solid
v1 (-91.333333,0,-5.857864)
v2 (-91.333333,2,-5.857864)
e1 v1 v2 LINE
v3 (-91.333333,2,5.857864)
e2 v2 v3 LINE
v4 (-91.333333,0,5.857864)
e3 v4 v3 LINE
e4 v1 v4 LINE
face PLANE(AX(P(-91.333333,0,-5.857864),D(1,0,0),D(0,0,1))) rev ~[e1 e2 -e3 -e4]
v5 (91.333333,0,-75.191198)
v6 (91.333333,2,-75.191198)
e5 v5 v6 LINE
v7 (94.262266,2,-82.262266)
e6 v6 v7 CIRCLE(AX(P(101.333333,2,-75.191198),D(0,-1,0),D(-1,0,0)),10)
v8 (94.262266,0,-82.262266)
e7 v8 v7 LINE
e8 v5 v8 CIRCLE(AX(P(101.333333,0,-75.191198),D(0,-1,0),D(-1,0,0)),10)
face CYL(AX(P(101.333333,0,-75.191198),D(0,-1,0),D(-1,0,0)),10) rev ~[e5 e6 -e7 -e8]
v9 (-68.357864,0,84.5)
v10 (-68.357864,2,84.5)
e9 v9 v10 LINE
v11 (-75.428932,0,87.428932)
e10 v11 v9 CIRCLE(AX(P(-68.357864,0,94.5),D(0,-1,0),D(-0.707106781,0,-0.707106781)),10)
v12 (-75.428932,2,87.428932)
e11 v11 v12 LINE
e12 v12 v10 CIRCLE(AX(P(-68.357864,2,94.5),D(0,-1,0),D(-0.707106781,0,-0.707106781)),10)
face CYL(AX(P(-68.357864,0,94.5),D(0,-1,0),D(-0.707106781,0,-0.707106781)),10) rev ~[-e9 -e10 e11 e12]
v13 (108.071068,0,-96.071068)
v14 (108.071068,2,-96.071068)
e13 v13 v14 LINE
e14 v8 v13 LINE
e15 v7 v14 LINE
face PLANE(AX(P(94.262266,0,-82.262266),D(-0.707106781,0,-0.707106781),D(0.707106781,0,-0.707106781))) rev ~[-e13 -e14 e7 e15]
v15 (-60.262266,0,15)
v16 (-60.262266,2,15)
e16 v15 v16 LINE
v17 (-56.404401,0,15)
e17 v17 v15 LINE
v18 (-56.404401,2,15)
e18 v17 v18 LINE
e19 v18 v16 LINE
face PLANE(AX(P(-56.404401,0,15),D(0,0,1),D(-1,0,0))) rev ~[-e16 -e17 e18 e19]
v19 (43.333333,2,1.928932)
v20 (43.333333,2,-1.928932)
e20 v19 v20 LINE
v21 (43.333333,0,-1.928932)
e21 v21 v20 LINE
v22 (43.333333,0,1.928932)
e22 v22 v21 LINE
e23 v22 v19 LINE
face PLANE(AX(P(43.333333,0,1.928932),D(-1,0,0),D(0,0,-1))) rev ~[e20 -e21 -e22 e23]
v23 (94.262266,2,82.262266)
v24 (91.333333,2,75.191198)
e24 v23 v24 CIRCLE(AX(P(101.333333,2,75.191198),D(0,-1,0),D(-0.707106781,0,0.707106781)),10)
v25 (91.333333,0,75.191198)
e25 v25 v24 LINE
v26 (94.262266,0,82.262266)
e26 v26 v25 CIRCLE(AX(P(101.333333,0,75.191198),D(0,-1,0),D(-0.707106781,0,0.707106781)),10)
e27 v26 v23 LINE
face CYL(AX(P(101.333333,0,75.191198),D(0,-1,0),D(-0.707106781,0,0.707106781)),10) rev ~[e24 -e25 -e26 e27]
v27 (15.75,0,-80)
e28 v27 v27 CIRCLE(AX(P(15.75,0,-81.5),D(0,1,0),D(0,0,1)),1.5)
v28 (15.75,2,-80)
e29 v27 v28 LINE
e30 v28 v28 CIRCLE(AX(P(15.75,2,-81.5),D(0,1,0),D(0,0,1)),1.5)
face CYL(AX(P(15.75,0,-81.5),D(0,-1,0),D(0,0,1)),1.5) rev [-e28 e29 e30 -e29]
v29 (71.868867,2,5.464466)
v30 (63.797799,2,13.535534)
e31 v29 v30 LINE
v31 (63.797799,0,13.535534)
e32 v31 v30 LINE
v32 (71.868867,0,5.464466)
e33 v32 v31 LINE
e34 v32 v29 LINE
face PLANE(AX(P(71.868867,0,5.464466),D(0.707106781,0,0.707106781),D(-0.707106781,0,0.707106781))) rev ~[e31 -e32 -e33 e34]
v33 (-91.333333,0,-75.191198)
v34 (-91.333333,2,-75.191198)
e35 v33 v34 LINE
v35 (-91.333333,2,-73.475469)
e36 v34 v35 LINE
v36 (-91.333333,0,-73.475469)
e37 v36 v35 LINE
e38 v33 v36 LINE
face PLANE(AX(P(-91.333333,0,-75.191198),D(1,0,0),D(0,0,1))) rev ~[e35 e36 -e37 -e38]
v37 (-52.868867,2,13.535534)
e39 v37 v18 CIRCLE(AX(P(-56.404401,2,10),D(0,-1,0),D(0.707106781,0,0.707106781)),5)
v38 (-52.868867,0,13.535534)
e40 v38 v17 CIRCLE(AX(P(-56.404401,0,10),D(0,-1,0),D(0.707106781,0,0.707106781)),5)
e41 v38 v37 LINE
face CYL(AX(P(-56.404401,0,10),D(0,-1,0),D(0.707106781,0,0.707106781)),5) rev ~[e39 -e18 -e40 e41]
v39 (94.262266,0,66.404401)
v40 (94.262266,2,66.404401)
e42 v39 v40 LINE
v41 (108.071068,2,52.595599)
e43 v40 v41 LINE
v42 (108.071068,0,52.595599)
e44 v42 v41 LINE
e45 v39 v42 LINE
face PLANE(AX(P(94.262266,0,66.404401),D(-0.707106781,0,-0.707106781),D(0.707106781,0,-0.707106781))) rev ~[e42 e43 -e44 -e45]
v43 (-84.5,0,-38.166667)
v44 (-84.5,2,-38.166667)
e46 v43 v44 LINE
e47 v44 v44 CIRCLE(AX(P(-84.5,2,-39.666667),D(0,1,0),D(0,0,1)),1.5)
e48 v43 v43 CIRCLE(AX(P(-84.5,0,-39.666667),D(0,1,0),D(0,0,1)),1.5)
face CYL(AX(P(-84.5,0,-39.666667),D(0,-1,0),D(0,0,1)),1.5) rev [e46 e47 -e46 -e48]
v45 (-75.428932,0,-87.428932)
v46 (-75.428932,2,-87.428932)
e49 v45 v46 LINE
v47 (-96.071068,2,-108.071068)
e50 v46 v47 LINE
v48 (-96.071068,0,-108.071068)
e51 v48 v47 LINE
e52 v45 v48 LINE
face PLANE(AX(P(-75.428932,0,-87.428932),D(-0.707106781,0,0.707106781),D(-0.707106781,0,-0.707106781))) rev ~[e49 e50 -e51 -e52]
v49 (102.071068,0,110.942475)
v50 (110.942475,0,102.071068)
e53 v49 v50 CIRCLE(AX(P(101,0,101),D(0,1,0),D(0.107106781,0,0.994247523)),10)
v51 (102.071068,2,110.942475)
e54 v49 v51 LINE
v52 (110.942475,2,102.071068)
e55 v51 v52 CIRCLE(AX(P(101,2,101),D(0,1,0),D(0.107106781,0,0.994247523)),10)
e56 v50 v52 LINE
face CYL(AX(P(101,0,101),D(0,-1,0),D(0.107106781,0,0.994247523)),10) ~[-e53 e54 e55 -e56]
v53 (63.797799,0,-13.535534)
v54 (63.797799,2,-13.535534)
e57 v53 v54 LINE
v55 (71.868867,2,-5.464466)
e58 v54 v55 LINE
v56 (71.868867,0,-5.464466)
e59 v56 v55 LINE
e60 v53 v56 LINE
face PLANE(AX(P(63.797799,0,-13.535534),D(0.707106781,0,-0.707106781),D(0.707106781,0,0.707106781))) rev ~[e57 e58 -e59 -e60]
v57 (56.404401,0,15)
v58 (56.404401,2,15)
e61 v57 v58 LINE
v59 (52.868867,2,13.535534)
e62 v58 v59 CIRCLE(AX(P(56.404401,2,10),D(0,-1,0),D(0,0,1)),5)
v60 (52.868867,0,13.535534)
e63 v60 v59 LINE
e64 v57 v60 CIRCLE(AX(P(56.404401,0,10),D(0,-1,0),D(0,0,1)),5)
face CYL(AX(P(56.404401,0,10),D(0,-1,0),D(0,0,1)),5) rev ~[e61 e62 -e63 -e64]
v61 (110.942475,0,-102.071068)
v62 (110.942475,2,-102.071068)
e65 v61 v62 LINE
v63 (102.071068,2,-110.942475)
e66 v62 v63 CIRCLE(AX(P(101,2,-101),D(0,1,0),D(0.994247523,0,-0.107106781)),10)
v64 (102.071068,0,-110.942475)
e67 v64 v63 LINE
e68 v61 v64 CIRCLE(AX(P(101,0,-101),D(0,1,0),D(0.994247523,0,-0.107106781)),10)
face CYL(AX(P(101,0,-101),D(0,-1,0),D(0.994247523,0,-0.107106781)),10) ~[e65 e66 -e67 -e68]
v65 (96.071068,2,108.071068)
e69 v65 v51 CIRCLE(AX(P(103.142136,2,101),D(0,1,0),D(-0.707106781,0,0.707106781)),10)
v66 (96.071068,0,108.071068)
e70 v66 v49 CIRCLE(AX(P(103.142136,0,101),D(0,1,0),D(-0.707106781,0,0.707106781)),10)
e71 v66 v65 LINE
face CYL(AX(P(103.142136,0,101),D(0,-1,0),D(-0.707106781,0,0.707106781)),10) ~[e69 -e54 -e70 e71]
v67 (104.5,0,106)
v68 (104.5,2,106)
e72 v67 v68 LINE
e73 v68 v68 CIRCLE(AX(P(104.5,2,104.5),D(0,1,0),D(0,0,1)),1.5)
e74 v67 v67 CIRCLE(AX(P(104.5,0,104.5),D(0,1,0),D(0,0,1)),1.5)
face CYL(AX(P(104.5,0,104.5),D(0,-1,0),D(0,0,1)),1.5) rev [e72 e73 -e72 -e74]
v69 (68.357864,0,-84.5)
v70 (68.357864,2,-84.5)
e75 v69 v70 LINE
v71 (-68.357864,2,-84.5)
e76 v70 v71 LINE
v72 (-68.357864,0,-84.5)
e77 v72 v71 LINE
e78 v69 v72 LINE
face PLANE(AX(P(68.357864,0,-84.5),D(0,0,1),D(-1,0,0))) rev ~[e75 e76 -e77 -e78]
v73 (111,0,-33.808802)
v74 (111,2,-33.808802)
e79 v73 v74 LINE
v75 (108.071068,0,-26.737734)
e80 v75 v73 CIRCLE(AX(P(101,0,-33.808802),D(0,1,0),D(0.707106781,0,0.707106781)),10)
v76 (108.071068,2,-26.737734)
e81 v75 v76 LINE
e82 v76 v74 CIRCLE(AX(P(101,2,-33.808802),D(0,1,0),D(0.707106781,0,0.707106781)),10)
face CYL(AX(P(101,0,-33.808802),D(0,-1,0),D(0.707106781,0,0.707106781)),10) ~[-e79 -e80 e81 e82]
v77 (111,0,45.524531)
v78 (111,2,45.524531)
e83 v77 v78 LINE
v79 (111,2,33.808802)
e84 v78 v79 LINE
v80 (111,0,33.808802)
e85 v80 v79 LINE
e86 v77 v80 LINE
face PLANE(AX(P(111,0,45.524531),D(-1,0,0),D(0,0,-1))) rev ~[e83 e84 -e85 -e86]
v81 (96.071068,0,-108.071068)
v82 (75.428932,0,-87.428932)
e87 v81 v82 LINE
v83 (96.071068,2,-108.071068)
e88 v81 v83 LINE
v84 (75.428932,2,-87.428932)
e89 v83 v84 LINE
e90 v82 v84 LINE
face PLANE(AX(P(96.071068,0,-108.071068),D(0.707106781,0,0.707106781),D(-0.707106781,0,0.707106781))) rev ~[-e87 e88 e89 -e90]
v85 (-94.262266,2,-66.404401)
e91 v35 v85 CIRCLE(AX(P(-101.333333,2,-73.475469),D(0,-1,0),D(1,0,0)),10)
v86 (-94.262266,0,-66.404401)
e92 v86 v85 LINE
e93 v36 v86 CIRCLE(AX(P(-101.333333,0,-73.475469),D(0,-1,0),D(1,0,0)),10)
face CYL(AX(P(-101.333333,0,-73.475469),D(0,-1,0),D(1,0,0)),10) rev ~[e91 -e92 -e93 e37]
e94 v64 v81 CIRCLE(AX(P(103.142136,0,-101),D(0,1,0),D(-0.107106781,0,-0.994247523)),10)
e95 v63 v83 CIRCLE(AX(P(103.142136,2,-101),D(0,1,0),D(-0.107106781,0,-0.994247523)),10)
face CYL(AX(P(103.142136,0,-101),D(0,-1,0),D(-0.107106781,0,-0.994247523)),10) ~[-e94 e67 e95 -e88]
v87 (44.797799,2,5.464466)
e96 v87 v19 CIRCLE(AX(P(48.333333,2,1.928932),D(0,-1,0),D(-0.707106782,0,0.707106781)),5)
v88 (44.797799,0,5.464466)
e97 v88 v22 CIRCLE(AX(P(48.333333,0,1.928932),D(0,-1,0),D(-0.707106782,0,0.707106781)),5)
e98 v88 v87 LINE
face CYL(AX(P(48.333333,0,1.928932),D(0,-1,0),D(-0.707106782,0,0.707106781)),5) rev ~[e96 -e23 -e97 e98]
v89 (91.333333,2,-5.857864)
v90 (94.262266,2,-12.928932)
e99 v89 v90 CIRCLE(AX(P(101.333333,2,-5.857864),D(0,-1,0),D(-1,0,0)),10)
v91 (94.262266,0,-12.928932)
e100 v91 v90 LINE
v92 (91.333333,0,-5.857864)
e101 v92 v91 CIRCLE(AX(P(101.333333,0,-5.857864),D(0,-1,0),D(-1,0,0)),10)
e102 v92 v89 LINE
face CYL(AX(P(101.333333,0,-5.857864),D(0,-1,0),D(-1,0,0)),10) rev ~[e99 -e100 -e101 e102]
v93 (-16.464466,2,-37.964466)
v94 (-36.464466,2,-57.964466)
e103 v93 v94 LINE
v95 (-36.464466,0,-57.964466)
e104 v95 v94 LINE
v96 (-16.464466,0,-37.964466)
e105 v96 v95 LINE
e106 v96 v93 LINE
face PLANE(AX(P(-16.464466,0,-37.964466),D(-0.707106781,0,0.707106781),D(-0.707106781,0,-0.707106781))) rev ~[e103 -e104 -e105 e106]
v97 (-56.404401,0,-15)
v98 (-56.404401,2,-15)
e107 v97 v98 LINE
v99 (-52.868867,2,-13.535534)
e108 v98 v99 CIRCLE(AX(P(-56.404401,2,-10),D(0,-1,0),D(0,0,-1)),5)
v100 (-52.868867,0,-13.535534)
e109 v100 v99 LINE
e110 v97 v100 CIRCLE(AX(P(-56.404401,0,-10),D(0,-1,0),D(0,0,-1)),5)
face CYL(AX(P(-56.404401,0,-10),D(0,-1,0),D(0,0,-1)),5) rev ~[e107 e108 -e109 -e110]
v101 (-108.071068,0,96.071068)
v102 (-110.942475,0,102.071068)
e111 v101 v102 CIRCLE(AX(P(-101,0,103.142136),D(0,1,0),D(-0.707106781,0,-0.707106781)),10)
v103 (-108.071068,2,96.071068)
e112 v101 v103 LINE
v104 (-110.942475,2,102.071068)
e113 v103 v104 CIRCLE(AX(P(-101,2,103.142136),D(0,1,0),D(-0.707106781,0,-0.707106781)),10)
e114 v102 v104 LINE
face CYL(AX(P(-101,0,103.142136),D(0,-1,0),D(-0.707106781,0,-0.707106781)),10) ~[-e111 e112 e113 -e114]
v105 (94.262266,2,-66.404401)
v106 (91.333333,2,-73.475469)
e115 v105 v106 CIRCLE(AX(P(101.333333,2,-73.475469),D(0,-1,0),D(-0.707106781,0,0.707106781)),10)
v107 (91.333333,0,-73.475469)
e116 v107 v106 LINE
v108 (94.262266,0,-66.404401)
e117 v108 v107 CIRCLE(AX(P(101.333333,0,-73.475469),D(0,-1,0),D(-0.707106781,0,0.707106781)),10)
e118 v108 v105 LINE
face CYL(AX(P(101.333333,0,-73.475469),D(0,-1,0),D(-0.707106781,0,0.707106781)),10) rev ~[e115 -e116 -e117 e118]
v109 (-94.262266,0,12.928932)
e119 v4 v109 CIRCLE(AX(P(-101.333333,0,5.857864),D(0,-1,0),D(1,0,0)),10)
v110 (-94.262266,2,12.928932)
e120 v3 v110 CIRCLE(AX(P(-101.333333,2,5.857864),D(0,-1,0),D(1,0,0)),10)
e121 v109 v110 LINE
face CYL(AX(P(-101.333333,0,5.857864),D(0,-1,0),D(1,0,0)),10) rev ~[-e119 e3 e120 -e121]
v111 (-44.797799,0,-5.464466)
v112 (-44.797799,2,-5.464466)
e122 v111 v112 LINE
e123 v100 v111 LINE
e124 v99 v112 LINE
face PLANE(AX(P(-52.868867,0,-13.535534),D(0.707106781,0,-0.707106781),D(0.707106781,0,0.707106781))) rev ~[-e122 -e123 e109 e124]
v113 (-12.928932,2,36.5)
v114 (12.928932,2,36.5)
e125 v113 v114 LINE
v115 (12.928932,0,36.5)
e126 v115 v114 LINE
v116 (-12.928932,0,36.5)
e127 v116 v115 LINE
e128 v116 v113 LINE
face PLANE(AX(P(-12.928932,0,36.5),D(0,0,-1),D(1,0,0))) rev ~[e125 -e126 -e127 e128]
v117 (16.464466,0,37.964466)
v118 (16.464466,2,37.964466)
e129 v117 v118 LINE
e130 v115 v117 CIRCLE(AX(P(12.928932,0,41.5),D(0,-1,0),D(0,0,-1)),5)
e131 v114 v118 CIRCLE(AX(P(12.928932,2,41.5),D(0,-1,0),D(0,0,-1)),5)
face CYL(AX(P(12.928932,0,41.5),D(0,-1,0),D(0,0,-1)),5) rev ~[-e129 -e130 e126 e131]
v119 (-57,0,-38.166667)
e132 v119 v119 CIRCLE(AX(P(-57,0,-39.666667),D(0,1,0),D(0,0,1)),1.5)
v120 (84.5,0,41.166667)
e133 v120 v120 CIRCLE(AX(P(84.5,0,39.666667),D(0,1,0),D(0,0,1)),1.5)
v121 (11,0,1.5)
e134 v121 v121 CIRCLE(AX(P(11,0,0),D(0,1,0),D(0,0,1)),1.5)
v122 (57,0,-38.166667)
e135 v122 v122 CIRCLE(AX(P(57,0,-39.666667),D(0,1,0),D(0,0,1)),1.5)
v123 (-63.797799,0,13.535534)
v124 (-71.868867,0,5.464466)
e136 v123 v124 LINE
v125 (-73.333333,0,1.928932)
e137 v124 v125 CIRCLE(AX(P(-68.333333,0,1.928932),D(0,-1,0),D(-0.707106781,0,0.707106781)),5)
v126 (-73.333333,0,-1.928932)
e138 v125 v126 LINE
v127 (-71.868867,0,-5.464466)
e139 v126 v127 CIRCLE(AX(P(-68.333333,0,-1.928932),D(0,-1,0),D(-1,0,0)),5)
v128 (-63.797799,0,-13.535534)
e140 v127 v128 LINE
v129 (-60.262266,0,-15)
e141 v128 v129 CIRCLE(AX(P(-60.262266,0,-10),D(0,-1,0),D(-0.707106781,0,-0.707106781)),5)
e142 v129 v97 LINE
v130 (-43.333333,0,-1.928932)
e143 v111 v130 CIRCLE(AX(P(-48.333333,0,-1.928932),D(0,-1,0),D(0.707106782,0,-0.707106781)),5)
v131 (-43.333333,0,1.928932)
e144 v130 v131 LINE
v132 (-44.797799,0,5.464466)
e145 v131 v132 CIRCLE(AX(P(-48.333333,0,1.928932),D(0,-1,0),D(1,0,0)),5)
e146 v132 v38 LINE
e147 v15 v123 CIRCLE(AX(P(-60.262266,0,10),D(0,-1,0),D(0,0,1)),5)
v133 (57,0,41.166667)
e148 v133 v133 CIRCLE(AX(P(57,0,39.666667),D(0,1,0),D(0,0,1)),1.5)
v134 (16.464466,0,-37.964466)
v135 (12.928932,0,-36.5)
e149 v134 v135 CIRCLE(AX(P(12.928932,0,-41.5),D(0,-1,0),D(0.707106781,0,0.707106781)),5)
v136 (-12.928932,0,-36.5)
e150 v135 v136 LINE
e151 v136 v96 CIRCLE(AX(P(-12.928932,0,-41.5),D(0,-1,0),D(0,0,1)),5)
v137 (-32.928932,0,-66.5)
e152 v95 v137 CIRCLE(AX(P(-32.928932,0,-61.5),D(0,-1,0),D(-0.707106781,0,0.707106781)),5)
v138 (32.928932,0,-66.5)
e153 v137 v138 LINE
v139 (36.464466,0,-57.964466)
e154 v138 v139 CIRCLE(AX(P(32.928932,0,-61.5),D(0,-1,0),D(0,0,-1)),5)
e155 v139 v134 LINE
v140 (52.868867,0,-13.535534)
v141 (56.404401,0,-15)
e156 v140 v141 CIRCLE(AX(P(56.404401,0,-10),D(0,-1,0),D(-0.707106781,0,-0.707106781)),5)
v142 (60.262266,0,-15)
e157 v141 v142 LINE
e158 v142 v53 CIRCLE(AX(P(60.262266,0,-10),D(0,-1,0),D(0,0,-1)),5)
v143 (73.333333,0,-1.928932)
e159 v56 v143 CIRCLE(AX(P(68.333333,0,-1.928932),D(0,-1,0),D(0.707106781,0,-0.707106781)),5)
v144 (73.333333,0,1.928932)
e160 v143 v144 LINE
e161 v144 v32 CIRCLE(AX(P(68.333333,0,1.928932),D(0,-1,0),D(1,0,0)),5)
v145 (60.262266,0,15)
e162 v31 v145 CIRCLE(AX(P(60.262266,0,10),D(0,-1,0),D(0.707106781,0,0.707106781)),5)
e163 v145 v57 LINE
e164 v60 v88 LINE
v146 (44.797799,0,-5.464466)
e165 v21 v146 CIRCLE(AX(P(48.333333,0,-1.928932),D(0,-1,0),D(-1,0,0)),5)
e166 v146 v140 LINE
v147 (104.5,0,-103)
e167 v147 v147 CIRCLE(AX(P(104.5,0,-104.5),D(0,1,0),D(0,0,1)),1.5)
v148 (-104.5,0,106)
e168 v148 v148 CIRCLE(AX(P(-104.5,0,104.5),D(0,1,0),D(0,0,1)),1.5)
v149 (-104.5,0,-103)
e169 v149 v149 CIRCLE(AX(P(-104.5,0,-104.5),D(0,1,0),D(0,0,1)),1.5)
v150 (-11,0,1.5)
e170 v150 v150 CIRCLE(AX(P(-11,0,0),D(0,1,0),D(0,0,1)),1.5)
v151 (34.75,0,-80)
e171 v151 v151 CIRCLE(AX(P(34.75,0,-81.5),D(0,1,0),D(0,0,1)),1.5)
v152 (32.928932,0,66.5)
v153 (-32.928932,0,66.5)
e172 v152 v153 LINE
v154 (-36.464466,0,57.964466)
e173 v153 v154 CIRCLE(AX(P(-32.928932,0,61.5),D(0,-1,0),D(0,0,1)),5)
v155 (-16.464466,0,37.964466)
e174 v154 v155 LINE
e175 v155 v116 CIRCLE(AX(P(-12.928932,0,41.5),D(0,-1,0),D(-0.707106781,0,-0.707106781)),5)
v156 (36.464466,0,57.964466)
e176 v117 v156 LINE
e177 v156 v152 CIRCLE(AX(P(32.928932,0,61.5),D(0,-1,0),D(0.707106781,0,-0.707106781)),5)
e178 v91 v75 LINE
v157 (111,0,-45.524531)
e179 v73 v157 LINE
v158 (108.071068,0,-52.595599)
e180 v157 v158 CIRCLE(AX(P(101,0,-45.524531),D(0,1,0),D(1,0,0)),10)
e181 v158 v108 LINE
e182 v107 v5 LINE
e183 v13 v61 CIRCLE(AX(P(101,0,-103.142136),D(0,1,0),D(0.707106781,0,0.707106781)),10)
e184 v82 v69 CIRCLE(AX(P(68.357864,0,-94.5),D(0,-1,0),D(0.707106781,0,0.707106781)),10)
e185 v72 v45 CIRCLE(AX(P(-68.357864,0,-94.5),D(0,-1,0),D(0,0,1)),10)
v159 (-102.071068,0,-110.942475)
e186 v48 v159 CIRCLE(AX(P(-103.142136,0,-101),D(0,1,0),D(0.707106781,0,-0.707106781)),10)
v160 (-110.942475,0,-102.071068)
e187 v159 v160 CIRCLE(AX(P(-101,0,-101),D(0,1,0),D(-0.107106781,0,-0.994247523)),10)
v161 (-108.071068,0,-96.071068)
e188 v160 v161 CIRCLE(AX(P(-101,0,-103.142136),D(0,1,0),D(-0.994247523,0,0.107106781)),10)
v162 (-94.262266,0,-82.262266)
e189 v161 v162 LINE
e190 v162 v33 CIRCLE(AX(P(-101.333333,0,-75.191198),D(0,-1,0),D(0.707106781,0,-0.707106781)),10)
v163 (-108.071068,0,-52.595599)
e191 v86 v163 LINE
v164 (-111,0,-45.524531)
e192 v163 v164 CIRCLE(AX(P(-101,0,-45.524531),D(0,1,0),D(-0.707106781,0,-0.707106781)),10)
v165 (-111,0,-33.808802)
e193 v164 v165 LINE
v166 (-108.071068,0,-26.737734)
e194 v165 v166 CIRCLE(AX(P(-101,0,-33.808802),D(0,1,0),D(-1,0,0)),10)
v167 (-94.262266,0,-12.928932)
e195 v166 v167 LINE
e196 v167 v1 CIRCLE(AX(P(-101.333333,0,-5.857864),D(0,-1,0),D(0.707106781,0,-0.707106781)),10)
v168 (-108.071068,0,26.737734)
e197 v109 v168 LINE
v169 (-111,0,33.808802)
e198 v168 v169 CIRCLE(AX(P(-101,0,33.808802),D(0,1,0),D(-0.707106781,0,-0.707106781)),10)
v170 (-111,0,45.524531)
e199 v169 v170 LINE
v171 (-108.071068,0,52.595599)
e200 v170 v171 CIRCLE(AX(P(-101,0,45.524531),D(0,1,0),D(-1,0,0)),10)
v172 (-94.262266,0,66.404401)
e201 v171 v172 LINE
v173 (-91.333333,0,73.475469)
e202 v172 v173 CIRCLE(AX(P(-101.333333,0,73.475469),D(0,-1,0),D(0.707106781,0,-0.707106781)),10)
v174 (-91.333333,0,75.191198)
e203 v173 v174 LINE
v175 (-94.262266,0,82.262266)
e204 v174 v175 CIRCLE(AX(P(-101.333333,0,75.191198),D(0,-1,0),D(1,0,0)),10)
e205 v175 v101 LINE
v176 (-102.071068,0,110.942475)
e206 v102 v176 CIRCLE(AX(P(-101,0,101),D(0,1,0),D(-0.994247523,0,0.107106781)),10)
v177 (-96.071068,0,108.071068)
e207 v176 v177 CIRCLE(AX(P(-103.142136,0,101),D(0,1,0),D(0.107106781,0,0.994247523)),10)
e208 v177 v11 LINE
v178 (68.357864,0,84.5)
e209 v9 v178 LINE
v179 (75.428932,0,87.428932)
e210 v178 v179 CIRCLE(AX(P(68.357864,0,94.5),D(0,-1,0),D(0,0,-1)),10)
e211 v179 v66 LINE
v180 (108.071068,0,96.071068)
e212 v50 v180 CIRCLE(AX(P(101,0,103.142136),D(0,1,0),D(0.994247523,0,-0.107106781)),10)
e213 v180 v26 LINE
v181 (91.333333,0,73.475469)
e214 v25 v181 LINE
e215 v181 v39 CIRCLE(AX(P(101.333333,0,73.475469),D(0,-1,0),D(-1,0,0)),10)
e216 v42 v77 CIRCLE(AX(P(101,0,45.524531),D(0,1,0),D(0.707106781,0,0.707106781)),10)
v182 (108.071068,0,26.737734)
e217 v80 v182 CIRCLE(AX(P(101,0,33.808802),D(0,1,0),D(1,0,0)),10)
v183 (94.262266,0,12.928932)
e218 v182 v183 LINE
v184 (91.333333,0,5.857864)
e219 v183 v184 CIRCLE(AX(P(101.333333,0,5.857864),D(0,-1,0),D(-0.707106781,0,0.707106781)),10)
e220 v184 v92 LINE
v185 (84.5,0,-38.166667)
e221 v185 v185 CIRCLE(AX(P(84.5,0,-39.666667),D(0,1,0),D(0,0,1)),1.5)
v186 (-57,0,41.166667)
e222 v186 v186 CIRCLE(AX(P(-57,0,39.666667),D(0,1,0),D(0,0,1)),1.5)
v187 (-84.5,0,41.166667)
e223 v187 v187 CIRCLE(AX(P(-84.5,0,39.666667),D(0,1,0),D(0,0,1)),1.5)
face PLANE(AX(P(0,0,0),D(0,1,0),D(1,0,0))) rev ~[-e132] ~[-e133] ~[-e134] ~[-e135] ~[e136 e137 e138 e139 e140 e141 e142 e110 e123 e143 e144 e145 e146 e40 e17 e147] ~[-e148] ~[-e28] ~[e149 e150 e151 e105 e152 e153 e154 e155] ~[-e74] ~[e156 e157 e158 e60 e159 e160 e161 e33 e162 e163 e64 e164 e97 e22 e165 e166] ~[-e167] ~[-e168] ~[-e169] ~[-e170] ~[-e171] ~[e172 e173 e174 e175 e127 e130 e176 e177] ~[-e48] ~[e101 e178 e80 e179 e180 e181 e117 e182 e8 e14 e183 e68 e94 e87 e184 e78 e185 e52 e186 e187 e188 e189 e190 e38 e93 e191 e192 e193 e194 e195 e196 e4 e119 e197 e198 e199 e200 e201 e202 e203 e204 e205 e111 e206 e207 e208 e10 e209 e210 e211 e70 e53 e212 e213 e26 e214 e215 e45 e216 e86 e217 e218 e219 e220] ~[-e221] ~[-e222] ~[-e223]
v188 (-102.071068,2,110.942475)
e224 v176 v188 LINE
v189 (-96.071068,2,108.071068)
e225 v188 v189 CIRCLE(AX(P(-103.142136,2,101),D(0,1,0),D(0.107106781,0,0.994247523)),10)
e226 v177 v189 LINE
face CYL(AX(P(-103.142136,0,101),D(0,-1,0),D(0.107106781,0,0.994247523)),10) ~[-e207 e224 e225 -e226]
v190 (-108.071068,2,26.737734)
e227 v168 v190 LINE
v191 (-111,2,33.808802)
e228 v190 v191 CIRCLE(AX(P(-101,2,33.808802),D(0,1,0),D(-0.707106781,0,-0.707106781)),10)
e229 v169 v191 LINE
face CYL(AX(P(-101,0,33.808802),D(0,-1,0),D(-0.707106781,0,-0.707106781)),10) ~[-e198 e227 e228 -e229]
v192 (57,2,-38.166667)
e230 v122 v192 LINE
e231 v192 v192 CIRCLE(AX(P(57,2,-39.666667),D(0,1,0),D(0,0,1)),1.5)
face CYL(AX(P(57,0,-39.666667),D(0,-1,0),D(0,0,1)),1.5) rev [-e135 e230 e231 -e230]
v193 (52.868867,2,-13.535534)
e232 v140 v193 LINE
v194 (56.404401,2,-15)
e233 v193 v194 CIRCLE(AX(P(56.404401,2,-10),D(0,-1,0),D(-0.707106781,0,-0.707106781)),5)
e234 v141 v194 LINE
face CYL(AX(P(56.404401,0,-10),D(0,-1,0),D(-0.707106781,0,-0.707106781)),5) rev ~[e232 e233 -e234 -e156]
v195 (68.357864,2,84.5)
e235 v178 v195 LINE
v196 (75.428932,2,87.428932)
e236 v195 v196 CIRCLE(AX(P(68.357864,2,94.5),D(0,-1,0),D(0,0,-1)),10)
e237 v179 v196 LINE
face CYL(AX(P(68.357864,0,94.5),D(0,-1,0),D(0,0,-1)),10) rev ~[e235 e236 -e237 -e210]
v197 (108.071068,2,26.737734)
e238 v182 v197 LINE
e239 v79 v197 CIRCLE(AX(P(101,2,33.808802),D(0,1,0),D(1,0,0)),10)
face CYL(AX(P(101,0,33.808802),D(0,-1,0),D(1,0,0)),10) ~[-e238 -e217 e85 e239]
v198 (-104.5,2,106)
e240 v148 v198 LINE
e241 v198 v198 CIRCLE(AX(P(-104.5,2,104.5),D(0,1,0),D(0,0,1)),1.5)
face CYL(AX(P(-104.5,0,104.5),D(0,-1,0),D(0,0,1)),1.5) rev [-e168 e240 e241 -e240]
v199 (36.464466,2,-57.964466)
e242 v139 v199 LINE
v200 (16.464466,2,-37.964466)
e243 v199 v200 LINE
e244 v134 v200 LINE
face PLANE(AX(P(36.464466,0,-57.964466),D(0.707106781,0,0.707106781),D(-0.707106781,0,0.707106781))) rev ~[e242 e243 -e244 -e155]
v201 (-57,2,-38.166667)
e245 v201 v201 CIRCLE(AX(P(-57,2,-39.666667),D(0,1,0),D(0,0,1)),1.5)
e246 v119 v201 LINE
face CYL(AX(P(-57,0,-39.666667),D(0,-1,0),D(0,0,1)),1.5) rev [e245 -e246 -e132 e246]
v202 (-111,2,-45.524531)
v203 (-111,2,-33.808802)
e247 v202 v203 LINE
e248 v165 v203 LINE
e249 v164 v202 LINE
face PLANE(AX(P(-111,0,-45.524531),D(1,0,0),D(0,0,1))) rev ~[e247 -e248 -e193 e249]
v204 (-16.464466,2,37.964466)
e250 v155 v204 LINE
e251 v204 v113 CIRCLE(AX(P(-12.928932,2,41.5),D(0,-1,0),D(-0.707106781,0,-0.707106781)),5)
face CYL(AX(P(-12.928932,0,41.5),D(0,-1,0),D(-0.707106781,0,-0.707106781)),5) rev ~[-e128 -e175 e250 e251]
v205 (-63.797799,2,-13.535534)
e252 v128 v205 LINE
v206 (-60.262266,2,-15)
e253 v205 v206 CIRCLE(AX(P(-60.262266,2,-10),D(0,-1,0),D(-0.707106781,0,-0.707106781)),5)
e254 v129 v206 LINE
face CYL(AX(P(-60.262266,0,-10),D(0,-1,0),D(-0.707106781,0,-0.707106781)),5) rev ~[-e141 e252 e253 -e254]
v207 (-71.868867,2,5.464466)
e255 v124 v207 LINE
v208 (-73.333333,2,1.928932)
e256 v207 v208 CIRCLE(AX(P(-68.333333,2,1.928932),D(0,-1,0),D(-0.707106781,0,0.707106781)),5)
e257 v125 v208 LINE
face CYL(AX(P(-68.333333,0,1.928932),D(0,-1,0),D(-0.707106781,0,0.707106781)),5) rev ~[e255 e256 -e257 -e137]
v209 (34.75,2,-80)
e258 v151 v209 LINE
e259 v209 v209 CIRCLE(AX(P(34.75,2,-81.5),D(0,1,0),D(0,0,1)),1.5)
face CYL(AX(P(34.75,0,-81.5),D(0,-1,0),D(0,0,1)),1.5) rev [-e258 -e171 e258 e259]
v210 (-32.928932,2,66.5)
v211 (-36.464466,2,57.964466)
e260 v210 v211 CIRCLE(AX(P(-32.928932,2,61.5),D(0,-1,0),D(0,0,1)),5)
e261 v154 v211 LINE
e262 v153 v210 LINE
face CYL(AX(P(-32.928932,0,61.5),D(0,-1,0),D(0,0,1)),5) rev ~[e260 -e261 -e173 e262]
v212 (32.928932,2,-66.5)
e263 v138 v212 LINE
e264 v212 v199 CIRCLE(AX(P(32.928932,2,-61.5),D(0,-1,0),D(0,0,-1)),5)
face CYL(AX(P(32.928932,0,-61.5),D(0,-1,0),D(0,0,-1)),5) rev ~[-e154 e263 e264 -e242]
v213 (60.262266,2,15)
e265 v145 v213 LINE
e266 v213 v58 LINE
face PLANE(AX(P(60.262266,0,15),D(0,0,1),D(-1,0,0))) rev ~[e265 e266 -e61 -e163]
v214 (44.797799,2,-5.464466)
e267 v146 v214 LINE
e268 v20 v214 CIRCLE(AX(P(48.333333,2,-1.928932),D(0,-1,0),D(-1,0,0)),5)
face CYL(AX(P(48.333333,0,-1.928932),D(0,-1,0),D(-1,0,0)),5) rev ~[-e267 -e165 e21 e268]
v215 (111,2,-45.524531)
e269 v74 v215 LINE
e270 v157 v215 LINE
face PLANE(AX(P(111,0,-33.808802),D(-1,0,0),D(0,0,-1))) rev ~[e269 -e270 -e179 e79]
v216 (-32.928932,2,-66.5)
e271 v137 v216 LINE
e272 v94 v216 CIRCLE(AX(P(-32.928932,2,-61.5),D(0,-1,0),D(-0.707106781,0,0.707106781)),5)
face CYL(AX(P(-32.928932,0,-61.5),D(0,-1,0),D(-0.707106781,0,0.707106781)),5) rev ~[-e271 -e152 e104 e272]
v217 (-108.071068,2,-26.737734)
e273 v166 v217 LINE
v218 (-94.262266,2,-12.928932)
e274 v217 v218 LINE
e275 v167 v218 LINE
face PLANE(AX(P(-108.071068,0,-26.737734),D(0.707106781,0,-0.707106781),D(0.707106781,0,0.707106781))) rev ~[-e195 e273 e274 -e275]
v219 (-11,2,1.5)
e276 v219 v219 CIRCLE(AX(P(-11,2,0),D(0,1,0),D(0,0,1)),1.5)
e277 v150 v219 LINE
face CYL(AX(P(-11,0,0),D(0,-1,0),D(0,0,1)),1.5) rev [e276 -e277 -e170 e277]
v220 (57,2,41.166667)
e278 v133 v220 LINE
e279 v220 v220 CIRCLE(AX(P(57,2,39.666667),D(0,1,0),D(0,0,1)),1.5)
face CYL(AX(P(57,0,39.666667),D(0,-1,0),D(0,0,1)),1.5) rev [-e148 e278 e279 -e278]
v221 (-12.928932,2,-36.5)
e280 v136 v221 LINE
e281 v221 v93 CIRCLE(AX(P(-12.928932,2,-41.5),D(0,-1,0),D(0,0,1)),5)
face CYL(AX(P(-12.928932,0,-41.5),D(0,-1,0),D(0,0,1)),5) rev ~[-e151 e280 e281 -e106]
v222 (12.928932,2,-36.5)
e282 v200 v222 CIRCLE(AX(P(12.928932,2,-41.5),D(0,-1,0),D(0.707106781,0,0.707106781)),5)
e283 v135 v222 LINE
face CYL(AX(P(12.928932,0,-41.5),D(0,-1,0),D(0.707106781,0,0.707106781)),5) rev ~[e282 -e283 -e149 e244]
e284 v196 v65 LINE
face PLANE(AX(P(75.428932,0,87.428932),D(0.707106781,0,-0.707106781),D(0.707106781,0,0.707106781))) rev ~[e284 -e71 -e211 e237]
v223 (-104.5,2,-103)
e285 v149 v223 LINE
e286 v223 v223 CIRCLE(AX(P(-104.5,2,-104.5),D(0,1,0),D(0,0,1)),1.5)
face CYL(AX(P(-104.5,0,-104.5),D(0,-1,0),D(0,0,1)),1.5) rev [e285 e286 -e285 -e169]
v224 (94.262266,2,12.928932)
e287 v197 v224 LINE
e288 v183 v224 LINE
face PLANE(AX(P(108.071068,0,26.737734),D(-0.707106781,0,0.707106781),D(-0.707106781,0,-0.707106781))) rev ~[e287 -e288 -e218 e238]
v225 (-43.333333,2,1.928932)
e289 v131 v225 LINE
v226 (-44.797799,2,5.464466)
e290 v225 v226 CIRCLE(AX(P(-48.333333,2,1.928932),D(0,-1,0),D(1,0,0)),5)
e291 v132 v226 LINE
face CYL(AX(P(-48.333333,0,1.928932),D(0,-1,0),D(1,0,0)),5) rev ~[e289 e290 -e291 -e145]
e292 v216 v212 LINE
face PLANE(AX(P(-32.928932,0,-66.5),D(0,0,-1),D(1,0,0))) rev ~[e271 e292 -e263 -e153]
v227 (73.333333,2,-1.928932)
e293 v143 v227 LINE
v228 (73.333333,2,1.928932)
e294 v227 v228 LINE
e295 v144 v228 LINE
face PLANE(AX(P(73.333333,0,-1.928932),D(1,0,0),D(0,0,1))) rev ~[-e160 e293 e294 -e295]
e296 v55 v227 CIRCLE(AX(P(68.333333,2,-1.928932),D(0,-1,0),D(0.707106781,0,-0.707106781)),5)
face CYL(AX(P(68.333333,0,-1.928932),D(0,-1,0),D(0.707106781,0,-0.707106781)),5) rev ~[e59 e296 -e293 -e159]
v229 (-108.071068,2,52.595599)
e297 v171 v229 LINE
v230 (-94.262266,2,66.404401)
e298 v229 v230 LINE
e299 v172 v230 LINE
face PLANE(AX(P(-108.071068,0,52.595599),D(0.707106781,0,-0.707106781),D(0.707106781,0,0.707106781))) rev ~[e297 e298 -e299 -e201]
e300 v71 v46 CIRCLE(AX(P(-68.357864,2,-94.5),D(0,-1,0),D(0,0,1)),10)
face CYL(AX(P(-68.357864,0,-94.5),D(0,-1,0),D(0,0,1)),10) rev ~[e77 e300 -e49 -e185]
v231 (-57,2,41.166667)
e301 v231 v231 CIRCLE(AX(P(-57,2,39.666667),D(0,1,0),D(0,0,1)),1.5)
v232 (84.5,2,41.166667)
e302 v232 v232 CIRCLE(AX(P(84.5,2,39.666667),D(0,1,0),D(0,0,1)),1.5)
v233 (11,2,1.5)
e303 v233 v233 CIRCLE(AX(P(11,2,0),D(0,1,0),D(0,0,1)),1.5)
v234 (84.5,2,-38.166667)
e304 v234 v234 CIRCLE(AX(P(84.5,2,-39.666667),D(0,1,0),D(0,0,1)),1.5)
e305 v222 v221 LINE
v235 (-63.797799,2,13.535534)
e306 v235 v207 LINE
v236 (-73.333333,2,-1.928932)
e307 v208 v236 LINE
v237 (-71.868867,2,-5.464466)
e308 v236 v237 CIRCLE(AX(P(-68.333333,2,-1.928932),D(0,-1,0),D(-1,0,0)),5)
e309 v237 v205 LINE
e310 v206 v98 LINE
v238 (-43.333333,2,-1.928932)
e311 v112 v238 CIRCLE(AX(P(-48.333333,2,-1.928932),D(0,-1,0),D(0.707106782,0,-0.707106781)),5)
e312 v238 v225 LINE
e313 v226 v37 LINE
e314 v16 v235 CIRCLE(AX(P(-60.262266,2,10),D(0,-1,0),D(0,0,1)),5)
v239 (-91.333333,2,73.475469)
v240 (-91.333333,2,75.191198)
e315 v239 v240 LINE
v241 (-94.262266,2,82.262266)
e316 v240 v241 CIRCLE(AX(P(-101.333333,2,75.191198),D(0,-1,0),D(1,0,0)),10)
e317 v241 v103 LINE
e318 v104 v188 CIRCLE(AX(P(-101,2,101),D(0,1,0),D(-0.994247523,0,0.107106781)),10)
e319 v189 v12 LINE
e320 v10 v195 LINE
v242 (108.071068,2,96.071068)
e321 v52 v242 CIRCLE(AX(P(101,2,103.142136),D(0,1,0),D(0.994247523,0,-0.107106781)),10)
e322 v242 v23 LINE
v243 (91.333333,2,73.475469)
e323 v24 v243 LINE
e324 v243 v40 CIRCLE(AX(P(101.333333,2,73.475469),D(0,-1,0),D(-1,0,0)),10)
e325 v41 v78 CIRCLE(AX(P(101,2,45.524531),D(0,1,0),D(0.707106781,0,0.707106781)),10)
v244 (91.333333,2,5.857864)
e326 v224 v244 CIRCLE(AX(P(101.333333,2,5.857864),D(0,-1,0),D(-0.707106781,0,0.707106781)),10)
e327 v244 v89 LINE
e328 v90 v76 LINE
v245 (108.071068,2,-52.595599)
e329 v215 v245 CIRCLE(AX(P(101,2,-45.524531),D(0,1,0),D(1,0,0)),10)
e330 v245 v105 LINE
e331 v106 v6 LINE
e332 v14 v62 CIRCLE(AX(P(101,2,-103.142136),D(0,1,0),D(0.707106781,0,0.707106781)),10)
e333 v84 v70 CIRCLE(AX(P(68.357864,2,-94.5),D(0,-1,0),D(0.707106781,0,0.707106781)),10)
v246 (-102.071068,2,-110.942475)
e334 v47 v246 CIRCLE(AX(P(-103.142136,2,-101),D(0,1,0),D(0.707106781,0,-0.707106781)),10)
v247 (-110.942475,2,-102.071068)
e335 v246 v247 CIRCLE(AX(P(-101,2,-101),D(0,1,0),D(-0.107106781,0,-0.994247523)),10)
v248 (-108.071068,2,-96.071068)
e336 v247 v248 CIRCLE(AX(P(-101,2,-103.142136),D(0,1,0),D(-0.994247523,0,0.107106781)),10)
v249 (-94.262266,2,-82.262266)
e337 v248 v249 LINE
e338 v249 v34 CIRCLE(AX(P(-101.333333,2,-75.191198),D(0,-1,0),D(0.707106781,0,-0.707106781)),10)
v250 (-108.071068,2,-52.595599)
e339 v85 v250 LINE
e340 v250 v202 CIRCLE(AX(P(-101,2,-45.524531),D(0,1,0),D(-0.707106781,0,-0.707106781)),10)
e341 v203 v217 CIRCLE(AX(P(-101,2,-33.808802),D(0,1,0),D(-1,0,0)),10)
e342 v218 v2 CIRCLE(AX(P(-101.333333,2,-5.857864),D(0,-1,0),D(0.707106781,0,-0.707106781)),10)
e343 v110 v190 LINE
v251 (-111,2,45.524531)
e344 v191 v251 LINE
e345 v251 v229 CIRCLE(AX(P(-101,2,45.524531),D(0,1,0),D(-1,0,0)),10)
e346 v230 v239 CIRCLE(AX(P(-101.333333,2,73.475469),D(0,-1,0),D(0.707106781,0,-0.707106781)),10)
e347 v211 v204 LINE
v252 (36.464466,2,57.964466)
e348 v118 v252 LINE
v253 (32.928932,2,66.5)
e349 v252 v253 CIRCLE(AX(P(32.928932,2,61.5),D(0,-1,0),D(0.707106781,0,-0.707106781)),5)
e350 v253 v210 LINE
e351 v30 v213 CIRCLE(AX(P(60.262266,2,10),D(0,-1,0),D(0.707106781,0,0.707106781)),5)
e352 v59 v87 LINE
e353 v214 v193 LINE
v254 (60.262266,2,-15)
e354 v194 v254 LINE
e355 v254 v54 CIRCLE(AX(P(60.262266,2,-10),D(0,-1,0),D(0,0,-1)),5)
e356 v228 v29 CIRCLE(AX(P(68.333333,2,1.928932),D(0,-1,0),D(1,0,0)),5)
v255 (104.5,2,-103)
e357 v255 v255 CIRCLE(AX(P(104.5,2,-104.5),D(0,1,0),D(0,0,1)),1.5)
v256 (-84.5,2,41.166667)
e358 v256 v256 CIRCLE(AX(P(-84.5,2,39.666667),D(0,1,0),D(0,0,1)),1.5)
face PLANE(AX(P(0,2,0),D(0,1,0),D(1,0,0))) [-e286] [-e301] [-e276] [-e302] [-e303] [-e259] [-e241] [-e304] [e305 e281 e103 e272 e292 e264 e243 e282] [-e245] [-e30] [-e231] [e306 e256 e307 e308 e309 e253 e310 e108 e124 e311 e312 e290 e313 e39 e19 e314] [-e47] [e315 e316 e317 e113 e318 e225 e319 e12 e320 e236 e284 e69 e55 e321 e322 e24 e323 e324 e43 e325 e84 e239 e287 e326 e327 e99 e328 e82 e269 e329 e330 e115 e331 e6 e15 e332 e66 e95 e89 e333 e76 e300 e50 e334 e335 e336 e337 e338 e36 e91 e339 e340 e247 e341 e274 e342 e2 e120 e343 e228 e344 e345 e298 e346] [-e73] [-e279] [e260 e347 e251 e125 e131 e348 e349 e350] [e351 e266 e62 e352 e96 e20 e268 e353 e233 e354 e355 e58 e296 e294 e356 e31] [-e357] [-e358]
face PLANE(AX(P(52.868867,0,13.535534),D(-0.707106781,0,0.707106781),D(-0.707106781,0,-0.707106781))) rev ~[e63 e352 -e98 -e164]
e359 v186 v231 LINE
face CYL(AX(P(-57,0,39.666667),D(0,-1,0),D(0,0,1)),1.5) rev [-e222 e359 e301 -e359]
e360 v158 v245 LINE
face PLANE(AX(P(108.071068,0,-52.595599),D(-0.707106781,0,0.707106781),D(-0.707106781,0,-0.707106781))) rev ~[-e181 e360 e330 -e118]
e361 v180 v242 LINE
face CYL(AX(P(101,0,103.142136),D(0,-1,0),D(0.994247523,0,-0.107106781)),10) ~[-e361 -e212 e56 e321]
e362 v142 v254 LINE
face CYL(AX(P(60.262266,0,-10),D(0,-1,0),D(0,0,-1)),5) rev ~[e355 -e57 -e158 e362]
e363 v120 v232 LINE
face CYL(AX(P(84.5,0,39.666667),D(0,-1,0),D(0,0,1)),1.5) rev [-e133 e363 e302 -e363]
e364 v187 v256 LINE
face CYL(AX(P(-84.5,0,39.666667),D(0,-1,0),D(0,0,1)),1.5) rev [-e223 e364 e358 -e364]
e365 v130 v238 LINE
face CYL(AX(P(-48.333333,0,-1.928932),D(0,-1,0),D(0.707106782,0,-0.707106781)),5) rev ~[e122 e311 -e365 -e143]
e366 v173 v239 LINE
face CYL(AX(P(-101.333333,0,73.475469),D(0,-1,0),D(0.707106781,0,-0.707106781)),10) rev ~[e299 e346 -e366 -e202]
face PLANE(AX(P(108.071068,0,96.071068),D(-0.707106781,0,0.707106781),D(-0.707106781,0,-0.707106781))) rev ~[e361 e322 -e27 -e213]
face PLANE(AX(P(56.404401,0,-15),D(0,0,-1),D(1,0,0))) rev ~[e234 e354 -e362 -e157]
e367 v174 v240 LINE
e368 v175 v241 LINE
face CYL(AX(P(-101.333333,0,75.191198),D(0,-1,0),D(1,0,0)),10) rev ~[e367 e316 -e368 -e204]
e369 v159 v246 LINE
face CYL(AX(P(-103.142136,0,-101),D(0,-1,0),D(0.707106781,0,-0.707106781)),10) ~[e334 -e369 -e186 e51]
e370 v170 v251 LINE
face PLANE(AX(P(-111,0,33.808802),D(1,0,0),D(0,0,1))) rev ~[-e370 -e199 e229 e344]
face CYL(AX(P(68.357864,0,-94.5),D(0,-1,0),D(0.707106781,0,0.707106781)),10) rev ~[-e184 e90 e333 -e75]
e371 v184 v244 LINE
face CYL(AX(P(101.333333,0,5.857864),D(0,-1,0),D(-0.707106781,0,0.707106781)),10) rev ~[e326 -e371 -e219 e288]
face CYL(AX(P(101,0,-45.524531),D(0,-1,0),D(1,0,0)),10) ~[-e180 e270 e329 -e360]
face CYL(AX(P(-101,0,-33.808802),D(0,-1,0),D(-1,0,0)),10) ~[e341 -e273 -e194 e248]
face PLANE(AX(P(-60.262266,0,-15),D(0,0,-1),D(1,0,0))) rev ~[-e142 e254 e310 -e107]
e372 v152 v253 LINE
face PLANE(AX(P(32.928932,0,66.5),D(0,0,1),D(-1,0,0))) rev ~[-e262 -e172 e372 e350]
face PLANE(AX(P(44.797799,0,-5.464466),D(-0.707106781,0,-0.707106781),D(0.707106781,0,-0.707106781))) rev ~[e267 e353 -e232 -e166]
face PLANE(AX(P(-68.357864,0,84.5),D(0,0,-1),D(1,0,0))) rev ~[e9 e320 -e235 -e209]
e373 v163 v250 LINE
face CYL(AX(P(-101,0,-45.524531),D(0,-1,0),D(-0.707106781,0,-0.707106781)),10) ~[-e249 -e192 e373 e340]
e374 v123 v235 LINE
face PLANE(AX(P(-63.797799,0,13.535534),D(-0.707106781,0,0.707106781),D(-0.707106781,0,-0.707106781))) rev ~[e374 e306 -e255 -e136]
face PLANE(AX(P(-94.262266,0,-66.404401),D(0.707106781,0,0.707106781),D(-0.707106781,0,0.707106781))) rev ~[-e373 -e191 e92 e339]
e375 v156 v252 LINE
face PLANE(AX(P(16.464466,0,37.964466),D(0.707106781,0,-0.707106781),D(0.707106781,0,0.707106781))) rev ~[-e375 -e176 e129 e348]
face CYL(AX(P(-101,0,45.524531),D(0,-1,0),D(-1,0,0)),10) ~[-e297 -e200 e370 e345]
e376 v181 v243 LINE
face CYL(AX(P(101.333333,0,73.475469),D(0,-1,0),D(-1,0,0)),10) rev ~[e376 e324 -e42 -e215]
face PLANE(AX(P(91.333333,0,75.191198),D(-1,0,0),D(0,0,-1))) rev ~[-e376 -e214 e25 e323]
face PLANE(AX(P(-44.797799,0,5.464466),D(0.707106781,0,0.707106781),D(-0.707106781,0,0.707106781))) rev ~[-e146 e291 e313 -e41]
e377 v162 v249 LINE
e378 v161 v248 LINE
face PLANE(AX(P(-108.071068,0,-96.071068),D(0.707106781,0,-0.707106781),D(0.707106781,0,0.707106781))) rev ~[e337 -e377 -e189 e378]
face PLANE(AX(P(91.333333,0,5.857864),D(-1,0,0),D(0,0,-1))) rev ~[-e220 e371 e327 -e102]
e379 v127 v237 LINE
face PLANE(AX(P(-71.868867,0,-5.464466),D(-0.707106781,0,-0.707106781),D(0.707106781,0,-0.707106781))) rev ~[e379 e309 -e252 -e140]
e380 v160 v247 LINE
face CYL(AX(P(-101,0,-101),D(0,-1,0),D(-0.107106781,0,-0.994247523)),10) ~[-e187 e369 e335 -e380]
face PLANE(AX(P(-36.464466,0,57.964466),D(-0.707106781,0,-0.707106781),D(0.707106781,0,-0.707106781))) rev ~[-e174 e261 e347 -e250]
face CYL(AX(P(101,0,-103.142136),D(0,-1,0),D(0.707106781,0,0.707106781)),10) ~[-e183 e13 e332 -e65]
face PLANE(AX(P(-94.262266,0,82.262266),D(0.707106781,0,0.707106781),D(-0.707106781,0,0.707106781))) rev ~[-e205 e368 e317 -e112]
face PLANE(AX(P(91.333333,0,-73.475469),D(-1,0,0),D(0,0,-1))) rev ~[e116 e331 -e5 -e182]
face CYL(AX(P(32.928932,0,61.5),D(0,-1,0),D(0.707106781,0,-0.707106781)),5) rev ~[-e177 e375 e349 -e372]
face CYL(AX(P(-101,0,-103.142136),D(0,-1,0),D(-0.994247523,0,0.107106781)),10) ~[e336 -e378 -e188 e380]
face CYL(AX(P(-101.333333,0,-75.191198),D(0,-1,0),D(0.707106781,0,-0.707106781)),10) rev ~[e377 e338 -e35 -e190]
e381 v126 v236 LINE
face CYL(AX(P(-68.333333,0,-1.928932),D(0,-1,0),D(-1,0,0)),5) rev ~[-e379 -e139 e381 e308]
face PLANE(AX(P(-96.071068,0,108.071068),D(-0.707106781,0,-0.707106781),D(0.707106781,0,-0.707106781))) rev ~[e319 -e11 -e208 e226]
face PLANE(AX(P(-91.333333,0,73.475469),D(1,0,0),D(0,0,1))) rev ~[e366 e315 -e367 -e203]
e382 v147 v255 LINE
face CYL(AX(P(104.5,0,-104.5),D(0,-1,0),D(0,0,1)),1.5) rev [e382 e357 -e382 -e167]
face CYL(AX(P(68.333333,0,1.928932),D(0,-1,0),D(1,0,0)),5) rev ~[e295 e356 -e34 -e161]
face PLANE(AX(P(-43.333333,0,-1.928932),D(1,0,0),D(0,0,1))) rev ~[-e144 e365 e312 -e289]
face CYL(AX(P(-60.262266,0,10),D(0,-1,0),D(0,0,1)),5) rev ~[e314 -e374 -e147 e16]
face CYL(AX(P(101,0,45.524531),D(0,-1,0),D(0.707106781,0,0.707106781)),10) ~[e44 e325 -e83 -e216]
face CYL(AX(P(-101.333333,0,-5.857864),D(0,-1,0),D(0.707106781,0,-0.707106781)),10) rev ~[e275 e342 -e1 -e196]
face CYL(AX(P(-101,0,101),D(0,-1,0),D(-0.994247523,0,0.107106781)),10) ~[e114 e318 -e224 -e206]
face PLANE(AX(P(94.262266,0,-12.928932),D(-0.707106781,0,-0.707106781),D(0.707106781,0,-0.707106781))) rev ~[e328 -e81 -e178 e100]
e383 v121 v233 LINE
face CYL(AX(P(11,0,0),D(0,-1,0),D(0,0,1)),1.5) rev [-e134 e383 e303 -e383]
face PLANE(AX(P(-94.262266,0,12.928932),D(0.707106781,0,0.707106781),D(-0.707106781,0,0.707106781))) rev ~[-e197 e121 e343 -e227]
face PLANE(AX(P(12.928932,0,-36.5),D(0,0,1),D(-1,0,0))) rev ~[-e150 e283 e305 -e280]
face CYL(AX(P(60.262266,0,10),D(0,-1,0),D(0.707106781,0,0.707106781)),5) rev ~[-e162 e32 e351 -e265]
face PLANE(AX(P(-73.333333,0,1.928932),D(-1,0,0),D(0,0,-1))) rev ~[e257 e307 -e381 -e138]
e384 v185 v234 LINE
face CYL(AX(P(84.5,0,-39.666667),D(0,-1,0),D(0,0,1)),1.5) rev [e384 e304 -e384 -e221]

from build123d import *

# Parameters (mm, degrees)
SKETCH1_R           = 1.5
BOSS_EXTRUDE1_DEPTH = 2


with BuildPart() as part:
    # Sketch1 → Boss-Extrude1 (new body)
    with BuildSketch(Plane(origin=(0, 0, 0), x_dir=(1, 0, 0), z_dir=(0, 1, 0))):
        with BuildLine():
            ThreePointArc((-102.071067812, 110.942475232), (-108.071067812, 108.071067812), (-110.942475232, 102.071067812))
            ThreePointArc((-110.942475232, 102.071067812), (-110.02026395, 98.825326817), (-108.071067812, 96.071067812))
            Line((-108.071067812, 96.071067812), (-94.262265521, 82.262265521))
            ThreePointArc((-94.262265521, 82.262265521), (-92.094538008, 79.018032033), (-91.333333333, 75.19119771))
            Line((-91.333333333, 75.19119771), (-91.333333333, 73.475468957))
            ThreePointArc((-91.333333333, 73.475468957), (-92.094538008, 69.648634633), (-94.262265521, 66.404401145))
            Line((-94.262265521, 66.404401145), (-108.071067812, 52.595598855))
            ThreePointArc((-108.071067812, 52.595598855), (-110.238795325, 49.351365367), (-111, 45.524531043))
            Line((-111, 45.524531043), (-111, 33.80880229))
            ThreePointArc((-111, 33.80880229), (-110.238795325, 29.981967967), (-108.071067812, 26.737734479))
            Line((-108.071067812, 26.737734479), (-94.262265521, 12.928932188))
            ThreePointArc((-94.262265521, 12.928932188), (-92.094538008, 9.6846987), (-91.333333333, 5.857864376))
            Line((-91.333333333, 5.857864376), (-91.333333333, -5.857864376))
            ThreePointArc((-91.333333333, -5.857864376), (-92.094538008, -9.6846987), (-94.262265521, -12.928932188))
            Line((-94.262265521, -12.928932188), (-108.071067812, -26.737734479))
            ThreePointArc((-108.071067812, -26.737734479), (-110.238795325, -29.981967967), (-111, -33.80880229))
            Line((-111, -33.80880229), (-111, -45.524531043))
            ThreePointArc((-111, -45.524531043), (-110.238795325, -49.351365367), (-108.071067812, -52.595598855))
            Line((-108.071067812, -52.595598855), (-94.262265521, -66.404401145))
            ThreePointArc((-94.262265521, -66.404401145), (-92.094538008, -69.648634633), (-91.333333333, -73.475468957))
            Line((-91.333333333, -73.475468957), (-91.333333333, -75.19119771))
            ThreePointArc((-91.333333333, -75.19119771), (-92.094538008, -79.018032033), (-94.262265521, -82.262265521))
            Line((-94.262265521, -82.262265521), (-108.071067812, -96.071067812))
            ThreePointArc((-108.071067812, -96.071067812), (-110.02026395, -98.825326817), (-110.942475232, -102.071067812))
            ThreePointArc((-110.942475232, -102.071067812), (-108.071067812, -108.071067812), (-102.071067812, -110.942475232))
            ThreePointArc((-102.071067812, -110.942475232), (-98.825326817, -110.02026395), (-96.071067812, -108.071067812))
            Line((-96.071067812, -108.071067812), (-75.428932188, -87.428932188))
            ThreePointArc((-75.428932188, -87.428932188), (-72.1846987, -85.261204675), (-68.357864376, -84.5))
            Line((-68.357864376, -84.5), (68.357864376, -84.5))
            ThreePointArc((68.357864376, -84.5), (72.1846987, -85.261204675), (75.428932188, -87.428932188))
            Line((75.428932188, -87.428932188), (96.071067812, -108.071067812))
            ThreePointArc((96.071067812, -108.071067812), (98.825326817, -110.02026395), (102.071067812, -110.942475232))
            ThreePointArc((102.071067812, -110.942475232), (108.071067812, -108.071067812), (110.942475232, -102.071067812))
            ThreePointArc((110.942475232, -102.071067812), (110.02026395, -98.825326817), (108.071067812, -96.071067812))
            Line((108.071067812, -96.071067812), (94.262265521, -82.262265521))
            ThreePointArc((94.262265521, -82.262265521), (92.094538008, -79.018032033), (91.333333333, -75.19119771))
            Line((91.333333333, -75.19119771), (91.333333333, -73.475468957))
            ThreePointArc((91.333333333, -73.475468957), (92.094538008, -69.648634633), (94.262265521, -66.404401145))
            Line((94.262265521, -66.404401145), (108.071067812, -52.595598855))
            ThreePointArc((108.071067812, -52.595598855), (110.238795325, -49.351365367), (111, -45.524531043))
            Line((111, -45.524531043), (111, -33.80880229))
            ThreePointArc((111, -33.80880229), (110.238795325, -29.981967967), (108.071067812, -26.737734479))
            Line((108.071067812, -26.737734479), (94.262265521, -12.928932188))
            ThreePointArc((94.262265521, -12.928932188), (92.094538008, -9.6846987), (91.333333333, -5.857864376))
            Line((91.333333333, -5.857864376), (91.333333333, 5.857864376))
            ThreePointArc((91.333333333, 5.857864376), (92.094538008, 9.6846987), (94.262265521, 12.928932188))
            Line((94.262265521, 12.928932188), (108.071067812, 26.737734479))
            ThreePointArc((108.071067812, 26.737734479), (110.238795325, 29.981967967), (111, 33.80880229))
            Line((111, 33.80880229), (111, 45.524531043))
            ThreePointArc((111, 45.524531043), (110.238795325, 49.351365367), (108.071067812, 52.595598855))
            Line((108.071067812, 52.595598855), (94.262265521, 66.404401145))
            ThreePointArc((94.262265521, 66.404401145), (92.094538008, 69.648634633), (91.333333333, 73.475468957))
            Line((91.333333333, 73.475468957), (91.333333333, 75.19119771))
            ThreePointArc((91.333333333, 75.19119771), (92.094538008, 79.018032033), (94.262265521, 82.262265521))
            Line((94.262265521, 82.262265521), (108.071067812, 96.071067812))
            ThreePointArc((108.071067812, 96.071067812), (110.02026395, 98.825326817), (110.942475232, 102.071067812))
            ThreePointArc((110.942475232, 102.071067812), (108.071067812, 108.071067812), (102.071067812, 110.942475232))
            ThreePointArc((102.071067812, 110.942475232), (98.825326817, 110.02026395), (96.071067812, 108.071067812))
            Line((96.071067812, 108.071067812), (75.428932188, 87.428932188))
            ThreePointArc((75.428932188, 87.428932188), (72.1846987, 85.261204675), (68.357864376, 84.5))
            Line((68.357864376, 84.5), (-68.357864376, 84.5))
            ThreePointArc((-68.357864376, 84.5), (-72.1846987, 85.261204675), (-75.428932188, 87.428932188))
            Line((-75.428932188, 87.428932188), (-96.071067812, 108.071067812))
            ThreePointArc((-96.071067812, 108.071067812), (-98.825326817, 110.02026395), (-102.071067812, 110.942475232))
        make_face()
        with Locations(Location((-104.5, -104.5, 0), (0, 0, 270))):
            Circle(SKETCH1_R, mode=Mode.SUBTRACT)
        with Locations(Location((-84.5, -39.666666667, 0), (0, 0, 270))):
            Circle(SKETCH1_R, mode=Mode.SUBTRACT)
        with Locations(Location((-57, -39.666666667, 0), (0, 0, 270))):
            Circle(SKETCH1_R, mode=Mode.SUBTRACT)
        with BuildLine():
            ThreePointArc((-63.797799427, 13.535533906), (-62.175682683, 14.619397663), (-60.262265521, 15))
            Line((-60.262265521, 15), (-56.404401145, 15))
            ThreePointArc((-56.404401145, 15), (-54.490983983, 14.619397663), (-52.868867239, 13.535533906))
            Line((-52.868867239, 13.535533906), (-44.797799427, 5.464466094))
            ThreePointArc((-44.797799427, 5.464466094), (-43.713935671, 3.84234935), (-43.333333333, 1.928932188))
            Line((-43.333333333, 1.928932188), (-43.333333333, -1.928932188))
            ThreePointArc((-43.333333333, -1.928932188), (-43.713935671, -3.84234935), (-44.797799427, -5.464466094))
            Line((-44.797799427, -5.464466094), (-52.868867239, -13.535533906))
            ThreePointArc((-52.868867239, -13.535533906), (-54.490983983, -14.619397663), (-56.404401145, -15))
            Line((-56.404401145, -15), (-60.262265521, -15))
            ThreePointArc((-60.262265521, -15), (-62.175682683, -14.619397663), (-63.797799427, -13.535533906))
            Line((-63.797799427, -13.535533906), (-71.868867239, -5.464466094))
            ThreePointArc((-71.868867239, -5.464466094), (-72.952730996, -3.84234935), (-73.333333333, -1.928932188))
            Line((-73.333333333, -1.928932188), (-73.333333333, 1.928932188))
            ThreePointArc((-73.333333333, 1.928932188), (-72.952730996, 3.84234935), (-71.868867239, 5.464466094))
            Line((-71.868867239, 5.464466094), (-63.797799427, 13.535533906))
        make_face(mode=Mode.SUBTRACT)
        with BuildLine():
            Line((-12.928932188, -36.5), (12.928932188, -36.5))
            ThreePointArc((12.928932188, -36.5), (14.84234935, -36.880602337), (16.464466094, -37.964466094))
            Line((16.464466094, -37.964466094), (36.464466094, -57.964466094))
            ThreePointArc((36.464466094, -57.964466094), (37.548329851, -63.413417162), (32.928932188, -66.5))
            Line((32.928932188, -66.5), (-32.928932188, -66.5))
            ThreePointArc((-32.928932188, -66.5), (-37.548329851, -63.413417162), (-36.464466094, -57.964466094))
            Line((-36.464466094, -57.964466094), (-16.464466094, -37.964466094))
            ThreePointArc((-16.464466094, -37.964466094), (-14.84234935, -36.880602337), (-12.928932188, -36.5))
        make_face(mode=Mode.SUBTRACT)
        with Locations(Location((-11, 0, 0), (0, 0, 270))):
            Circle(SKETCH1_R, mode=Mode.SUBTRACT)
        with Locations(Location((104.5, -104.5, 0), (0, 0, 270))):
            Circle(SKETCH1_R, mode=Mode.SUBTRACT)
        with Locations(Location((11, 0, 0), (0, 0, 270))):
            Circle(SKETCH1_R, mode=Mode.SUBTRACT)
        with Locations(Location((57, -39.666666667, 0), (0, 0, 270))):
            Circle(SKETCH1_R, mode=Mode.SUBTRACT)
        with Locations(Location((84.5, -39.666666667, 0), (0, 0, 270))):
            Circle(SKETCH1_R, mode=Mode.SUBTRACT)
        with BuildLine():
            Line((73.333333333, 1.928932188), (73.333333333, -1.928932188))
            ThreePointArc((73.333333333, -1.928932188), (72.952730996, -3.84234935), (71.868867239, -5.464466094))
            Line((71.868867239, -5.464466094), (63.797799427, -13.535533906))
            ThreePointArc((63.797799427, -13.535533906), (62.175682683, -14.619397663), (60.262265521, -15))
            Line((60.262265521, -15), (56.404401145, -15))
            ThreePointArc((56.404401145, -15), (54.490983983, -14.619397663), (52.868867239, -13.535533906))
            Line((52.868867239, -13.535533906), (44.797799427, -5.464466094))
            ThreePointArc((44.797799427, -5.464466094), (43.713935671, -3.84234935), (43.333333333, -1.928932188))
            Line((43.333333333, -1.928932188), (43.333333333, 1.928932188))
            ThreePointArc((43.333333333, 1.928932188), (43.713935671, 3.84234935), (44.797799427, 5.464466094))
            Line((44.797799427, 5.464466094), (52.868867239, 13.535533906))
            ThreePointArc((52.868867239, 13.535533906), (54.490983983, 14.619397663), (56.404401145, 15))
            Line((56.404401145, 15), (60.262265521, 15))
            ThreePointArc((60.262265521, 15), (62.175682683, 14.619397663), (63.797799427, 13.535533906))
            Line((63.797799427, 13.535533906), (71.868867239, 5.464466094))
            ThreePointArc((71.868867239, 5.464466094), (72.952730996, 3.84234935), (73.333333333, 1.928932188))
        make_face(mode=Mode.SUBTRACT)
        with Locations(Location((-84.5, 39.666666667, 0), (0, 0, 270))):
            Circle(SKETCH1_R, mode=Mode.SUBTRACT)
        with Locations(Location((-57, 39.666666667, 0), (0, 0, 270))):
            Circle(SKETCH1_R, mode=Mode.SUBTRACT)
        with Locations(Location((-104.5, 104.5, 0), (0, 0, 270))):
            Circle(SKETCH1_R, mode=Mode.SUBTRACT)
        with BuildLine():
            ThreePointArc((-36.464466094, 57.964466094), (-37.548329851, 63.413417162), (-32.928932188, 66.5))
            Line((-32.928932188, 66.5), (32.928932188, 66.5))
            ThreePointArc((32.928932188, 66.5), (37.548329851, 63.413417162), (36.464466094, 57.964466094))
            Line((36.464466094, 57.964466094), (16.464466094, 37.964466094))
            ThreePointArc((16.464466094, 37.964466094), (14.84234935, 36.880602337), (12.928932188, 36.5))
            Line((12.928932188, 36.5), (-12.928932188, 36.5))
            ThreePointArc((-12.928932188, 36.5), (-14.84234935, 36.880602337), (-16.464466094, 37.964466094))
            Line((-16.464466094, 37.964466094), (-36.464466094, 57.964466094))
        make_face(mode=Mode.SUBTRACT)
        with Locations(Location((57, 39.666666667, 0), (0, 0, 270))):
            Circle(SKETCH1_R, mode=Mode.SUBTRACT)
        with Locations(Location((84.5, 39.666666667, 0), (0, 0, 270))):
            Circle(SKETCH1_R, mode=Mode.SUBTRACT)
        with Locations(Location((15.75, 81.5, 0), (0, 0, 270))):
            Circle(SKETCH1_R, mode=Mode.SUBTRACT)
        with Locations(Location((34.75, 81.5, 0), (0, 0, 270))):
            Circle(SKETCH1_R, mode=Mode.SUBTRACT)
        with Locations(Location((104.5, 104.5, 0), (0, 0, 270))):
            Circle(SKETCH1_R, mode=Mode.SUBTRACT)
    extrude(amount=BOSS_EXTRUDE1_DEPTH)


solid = part.part
